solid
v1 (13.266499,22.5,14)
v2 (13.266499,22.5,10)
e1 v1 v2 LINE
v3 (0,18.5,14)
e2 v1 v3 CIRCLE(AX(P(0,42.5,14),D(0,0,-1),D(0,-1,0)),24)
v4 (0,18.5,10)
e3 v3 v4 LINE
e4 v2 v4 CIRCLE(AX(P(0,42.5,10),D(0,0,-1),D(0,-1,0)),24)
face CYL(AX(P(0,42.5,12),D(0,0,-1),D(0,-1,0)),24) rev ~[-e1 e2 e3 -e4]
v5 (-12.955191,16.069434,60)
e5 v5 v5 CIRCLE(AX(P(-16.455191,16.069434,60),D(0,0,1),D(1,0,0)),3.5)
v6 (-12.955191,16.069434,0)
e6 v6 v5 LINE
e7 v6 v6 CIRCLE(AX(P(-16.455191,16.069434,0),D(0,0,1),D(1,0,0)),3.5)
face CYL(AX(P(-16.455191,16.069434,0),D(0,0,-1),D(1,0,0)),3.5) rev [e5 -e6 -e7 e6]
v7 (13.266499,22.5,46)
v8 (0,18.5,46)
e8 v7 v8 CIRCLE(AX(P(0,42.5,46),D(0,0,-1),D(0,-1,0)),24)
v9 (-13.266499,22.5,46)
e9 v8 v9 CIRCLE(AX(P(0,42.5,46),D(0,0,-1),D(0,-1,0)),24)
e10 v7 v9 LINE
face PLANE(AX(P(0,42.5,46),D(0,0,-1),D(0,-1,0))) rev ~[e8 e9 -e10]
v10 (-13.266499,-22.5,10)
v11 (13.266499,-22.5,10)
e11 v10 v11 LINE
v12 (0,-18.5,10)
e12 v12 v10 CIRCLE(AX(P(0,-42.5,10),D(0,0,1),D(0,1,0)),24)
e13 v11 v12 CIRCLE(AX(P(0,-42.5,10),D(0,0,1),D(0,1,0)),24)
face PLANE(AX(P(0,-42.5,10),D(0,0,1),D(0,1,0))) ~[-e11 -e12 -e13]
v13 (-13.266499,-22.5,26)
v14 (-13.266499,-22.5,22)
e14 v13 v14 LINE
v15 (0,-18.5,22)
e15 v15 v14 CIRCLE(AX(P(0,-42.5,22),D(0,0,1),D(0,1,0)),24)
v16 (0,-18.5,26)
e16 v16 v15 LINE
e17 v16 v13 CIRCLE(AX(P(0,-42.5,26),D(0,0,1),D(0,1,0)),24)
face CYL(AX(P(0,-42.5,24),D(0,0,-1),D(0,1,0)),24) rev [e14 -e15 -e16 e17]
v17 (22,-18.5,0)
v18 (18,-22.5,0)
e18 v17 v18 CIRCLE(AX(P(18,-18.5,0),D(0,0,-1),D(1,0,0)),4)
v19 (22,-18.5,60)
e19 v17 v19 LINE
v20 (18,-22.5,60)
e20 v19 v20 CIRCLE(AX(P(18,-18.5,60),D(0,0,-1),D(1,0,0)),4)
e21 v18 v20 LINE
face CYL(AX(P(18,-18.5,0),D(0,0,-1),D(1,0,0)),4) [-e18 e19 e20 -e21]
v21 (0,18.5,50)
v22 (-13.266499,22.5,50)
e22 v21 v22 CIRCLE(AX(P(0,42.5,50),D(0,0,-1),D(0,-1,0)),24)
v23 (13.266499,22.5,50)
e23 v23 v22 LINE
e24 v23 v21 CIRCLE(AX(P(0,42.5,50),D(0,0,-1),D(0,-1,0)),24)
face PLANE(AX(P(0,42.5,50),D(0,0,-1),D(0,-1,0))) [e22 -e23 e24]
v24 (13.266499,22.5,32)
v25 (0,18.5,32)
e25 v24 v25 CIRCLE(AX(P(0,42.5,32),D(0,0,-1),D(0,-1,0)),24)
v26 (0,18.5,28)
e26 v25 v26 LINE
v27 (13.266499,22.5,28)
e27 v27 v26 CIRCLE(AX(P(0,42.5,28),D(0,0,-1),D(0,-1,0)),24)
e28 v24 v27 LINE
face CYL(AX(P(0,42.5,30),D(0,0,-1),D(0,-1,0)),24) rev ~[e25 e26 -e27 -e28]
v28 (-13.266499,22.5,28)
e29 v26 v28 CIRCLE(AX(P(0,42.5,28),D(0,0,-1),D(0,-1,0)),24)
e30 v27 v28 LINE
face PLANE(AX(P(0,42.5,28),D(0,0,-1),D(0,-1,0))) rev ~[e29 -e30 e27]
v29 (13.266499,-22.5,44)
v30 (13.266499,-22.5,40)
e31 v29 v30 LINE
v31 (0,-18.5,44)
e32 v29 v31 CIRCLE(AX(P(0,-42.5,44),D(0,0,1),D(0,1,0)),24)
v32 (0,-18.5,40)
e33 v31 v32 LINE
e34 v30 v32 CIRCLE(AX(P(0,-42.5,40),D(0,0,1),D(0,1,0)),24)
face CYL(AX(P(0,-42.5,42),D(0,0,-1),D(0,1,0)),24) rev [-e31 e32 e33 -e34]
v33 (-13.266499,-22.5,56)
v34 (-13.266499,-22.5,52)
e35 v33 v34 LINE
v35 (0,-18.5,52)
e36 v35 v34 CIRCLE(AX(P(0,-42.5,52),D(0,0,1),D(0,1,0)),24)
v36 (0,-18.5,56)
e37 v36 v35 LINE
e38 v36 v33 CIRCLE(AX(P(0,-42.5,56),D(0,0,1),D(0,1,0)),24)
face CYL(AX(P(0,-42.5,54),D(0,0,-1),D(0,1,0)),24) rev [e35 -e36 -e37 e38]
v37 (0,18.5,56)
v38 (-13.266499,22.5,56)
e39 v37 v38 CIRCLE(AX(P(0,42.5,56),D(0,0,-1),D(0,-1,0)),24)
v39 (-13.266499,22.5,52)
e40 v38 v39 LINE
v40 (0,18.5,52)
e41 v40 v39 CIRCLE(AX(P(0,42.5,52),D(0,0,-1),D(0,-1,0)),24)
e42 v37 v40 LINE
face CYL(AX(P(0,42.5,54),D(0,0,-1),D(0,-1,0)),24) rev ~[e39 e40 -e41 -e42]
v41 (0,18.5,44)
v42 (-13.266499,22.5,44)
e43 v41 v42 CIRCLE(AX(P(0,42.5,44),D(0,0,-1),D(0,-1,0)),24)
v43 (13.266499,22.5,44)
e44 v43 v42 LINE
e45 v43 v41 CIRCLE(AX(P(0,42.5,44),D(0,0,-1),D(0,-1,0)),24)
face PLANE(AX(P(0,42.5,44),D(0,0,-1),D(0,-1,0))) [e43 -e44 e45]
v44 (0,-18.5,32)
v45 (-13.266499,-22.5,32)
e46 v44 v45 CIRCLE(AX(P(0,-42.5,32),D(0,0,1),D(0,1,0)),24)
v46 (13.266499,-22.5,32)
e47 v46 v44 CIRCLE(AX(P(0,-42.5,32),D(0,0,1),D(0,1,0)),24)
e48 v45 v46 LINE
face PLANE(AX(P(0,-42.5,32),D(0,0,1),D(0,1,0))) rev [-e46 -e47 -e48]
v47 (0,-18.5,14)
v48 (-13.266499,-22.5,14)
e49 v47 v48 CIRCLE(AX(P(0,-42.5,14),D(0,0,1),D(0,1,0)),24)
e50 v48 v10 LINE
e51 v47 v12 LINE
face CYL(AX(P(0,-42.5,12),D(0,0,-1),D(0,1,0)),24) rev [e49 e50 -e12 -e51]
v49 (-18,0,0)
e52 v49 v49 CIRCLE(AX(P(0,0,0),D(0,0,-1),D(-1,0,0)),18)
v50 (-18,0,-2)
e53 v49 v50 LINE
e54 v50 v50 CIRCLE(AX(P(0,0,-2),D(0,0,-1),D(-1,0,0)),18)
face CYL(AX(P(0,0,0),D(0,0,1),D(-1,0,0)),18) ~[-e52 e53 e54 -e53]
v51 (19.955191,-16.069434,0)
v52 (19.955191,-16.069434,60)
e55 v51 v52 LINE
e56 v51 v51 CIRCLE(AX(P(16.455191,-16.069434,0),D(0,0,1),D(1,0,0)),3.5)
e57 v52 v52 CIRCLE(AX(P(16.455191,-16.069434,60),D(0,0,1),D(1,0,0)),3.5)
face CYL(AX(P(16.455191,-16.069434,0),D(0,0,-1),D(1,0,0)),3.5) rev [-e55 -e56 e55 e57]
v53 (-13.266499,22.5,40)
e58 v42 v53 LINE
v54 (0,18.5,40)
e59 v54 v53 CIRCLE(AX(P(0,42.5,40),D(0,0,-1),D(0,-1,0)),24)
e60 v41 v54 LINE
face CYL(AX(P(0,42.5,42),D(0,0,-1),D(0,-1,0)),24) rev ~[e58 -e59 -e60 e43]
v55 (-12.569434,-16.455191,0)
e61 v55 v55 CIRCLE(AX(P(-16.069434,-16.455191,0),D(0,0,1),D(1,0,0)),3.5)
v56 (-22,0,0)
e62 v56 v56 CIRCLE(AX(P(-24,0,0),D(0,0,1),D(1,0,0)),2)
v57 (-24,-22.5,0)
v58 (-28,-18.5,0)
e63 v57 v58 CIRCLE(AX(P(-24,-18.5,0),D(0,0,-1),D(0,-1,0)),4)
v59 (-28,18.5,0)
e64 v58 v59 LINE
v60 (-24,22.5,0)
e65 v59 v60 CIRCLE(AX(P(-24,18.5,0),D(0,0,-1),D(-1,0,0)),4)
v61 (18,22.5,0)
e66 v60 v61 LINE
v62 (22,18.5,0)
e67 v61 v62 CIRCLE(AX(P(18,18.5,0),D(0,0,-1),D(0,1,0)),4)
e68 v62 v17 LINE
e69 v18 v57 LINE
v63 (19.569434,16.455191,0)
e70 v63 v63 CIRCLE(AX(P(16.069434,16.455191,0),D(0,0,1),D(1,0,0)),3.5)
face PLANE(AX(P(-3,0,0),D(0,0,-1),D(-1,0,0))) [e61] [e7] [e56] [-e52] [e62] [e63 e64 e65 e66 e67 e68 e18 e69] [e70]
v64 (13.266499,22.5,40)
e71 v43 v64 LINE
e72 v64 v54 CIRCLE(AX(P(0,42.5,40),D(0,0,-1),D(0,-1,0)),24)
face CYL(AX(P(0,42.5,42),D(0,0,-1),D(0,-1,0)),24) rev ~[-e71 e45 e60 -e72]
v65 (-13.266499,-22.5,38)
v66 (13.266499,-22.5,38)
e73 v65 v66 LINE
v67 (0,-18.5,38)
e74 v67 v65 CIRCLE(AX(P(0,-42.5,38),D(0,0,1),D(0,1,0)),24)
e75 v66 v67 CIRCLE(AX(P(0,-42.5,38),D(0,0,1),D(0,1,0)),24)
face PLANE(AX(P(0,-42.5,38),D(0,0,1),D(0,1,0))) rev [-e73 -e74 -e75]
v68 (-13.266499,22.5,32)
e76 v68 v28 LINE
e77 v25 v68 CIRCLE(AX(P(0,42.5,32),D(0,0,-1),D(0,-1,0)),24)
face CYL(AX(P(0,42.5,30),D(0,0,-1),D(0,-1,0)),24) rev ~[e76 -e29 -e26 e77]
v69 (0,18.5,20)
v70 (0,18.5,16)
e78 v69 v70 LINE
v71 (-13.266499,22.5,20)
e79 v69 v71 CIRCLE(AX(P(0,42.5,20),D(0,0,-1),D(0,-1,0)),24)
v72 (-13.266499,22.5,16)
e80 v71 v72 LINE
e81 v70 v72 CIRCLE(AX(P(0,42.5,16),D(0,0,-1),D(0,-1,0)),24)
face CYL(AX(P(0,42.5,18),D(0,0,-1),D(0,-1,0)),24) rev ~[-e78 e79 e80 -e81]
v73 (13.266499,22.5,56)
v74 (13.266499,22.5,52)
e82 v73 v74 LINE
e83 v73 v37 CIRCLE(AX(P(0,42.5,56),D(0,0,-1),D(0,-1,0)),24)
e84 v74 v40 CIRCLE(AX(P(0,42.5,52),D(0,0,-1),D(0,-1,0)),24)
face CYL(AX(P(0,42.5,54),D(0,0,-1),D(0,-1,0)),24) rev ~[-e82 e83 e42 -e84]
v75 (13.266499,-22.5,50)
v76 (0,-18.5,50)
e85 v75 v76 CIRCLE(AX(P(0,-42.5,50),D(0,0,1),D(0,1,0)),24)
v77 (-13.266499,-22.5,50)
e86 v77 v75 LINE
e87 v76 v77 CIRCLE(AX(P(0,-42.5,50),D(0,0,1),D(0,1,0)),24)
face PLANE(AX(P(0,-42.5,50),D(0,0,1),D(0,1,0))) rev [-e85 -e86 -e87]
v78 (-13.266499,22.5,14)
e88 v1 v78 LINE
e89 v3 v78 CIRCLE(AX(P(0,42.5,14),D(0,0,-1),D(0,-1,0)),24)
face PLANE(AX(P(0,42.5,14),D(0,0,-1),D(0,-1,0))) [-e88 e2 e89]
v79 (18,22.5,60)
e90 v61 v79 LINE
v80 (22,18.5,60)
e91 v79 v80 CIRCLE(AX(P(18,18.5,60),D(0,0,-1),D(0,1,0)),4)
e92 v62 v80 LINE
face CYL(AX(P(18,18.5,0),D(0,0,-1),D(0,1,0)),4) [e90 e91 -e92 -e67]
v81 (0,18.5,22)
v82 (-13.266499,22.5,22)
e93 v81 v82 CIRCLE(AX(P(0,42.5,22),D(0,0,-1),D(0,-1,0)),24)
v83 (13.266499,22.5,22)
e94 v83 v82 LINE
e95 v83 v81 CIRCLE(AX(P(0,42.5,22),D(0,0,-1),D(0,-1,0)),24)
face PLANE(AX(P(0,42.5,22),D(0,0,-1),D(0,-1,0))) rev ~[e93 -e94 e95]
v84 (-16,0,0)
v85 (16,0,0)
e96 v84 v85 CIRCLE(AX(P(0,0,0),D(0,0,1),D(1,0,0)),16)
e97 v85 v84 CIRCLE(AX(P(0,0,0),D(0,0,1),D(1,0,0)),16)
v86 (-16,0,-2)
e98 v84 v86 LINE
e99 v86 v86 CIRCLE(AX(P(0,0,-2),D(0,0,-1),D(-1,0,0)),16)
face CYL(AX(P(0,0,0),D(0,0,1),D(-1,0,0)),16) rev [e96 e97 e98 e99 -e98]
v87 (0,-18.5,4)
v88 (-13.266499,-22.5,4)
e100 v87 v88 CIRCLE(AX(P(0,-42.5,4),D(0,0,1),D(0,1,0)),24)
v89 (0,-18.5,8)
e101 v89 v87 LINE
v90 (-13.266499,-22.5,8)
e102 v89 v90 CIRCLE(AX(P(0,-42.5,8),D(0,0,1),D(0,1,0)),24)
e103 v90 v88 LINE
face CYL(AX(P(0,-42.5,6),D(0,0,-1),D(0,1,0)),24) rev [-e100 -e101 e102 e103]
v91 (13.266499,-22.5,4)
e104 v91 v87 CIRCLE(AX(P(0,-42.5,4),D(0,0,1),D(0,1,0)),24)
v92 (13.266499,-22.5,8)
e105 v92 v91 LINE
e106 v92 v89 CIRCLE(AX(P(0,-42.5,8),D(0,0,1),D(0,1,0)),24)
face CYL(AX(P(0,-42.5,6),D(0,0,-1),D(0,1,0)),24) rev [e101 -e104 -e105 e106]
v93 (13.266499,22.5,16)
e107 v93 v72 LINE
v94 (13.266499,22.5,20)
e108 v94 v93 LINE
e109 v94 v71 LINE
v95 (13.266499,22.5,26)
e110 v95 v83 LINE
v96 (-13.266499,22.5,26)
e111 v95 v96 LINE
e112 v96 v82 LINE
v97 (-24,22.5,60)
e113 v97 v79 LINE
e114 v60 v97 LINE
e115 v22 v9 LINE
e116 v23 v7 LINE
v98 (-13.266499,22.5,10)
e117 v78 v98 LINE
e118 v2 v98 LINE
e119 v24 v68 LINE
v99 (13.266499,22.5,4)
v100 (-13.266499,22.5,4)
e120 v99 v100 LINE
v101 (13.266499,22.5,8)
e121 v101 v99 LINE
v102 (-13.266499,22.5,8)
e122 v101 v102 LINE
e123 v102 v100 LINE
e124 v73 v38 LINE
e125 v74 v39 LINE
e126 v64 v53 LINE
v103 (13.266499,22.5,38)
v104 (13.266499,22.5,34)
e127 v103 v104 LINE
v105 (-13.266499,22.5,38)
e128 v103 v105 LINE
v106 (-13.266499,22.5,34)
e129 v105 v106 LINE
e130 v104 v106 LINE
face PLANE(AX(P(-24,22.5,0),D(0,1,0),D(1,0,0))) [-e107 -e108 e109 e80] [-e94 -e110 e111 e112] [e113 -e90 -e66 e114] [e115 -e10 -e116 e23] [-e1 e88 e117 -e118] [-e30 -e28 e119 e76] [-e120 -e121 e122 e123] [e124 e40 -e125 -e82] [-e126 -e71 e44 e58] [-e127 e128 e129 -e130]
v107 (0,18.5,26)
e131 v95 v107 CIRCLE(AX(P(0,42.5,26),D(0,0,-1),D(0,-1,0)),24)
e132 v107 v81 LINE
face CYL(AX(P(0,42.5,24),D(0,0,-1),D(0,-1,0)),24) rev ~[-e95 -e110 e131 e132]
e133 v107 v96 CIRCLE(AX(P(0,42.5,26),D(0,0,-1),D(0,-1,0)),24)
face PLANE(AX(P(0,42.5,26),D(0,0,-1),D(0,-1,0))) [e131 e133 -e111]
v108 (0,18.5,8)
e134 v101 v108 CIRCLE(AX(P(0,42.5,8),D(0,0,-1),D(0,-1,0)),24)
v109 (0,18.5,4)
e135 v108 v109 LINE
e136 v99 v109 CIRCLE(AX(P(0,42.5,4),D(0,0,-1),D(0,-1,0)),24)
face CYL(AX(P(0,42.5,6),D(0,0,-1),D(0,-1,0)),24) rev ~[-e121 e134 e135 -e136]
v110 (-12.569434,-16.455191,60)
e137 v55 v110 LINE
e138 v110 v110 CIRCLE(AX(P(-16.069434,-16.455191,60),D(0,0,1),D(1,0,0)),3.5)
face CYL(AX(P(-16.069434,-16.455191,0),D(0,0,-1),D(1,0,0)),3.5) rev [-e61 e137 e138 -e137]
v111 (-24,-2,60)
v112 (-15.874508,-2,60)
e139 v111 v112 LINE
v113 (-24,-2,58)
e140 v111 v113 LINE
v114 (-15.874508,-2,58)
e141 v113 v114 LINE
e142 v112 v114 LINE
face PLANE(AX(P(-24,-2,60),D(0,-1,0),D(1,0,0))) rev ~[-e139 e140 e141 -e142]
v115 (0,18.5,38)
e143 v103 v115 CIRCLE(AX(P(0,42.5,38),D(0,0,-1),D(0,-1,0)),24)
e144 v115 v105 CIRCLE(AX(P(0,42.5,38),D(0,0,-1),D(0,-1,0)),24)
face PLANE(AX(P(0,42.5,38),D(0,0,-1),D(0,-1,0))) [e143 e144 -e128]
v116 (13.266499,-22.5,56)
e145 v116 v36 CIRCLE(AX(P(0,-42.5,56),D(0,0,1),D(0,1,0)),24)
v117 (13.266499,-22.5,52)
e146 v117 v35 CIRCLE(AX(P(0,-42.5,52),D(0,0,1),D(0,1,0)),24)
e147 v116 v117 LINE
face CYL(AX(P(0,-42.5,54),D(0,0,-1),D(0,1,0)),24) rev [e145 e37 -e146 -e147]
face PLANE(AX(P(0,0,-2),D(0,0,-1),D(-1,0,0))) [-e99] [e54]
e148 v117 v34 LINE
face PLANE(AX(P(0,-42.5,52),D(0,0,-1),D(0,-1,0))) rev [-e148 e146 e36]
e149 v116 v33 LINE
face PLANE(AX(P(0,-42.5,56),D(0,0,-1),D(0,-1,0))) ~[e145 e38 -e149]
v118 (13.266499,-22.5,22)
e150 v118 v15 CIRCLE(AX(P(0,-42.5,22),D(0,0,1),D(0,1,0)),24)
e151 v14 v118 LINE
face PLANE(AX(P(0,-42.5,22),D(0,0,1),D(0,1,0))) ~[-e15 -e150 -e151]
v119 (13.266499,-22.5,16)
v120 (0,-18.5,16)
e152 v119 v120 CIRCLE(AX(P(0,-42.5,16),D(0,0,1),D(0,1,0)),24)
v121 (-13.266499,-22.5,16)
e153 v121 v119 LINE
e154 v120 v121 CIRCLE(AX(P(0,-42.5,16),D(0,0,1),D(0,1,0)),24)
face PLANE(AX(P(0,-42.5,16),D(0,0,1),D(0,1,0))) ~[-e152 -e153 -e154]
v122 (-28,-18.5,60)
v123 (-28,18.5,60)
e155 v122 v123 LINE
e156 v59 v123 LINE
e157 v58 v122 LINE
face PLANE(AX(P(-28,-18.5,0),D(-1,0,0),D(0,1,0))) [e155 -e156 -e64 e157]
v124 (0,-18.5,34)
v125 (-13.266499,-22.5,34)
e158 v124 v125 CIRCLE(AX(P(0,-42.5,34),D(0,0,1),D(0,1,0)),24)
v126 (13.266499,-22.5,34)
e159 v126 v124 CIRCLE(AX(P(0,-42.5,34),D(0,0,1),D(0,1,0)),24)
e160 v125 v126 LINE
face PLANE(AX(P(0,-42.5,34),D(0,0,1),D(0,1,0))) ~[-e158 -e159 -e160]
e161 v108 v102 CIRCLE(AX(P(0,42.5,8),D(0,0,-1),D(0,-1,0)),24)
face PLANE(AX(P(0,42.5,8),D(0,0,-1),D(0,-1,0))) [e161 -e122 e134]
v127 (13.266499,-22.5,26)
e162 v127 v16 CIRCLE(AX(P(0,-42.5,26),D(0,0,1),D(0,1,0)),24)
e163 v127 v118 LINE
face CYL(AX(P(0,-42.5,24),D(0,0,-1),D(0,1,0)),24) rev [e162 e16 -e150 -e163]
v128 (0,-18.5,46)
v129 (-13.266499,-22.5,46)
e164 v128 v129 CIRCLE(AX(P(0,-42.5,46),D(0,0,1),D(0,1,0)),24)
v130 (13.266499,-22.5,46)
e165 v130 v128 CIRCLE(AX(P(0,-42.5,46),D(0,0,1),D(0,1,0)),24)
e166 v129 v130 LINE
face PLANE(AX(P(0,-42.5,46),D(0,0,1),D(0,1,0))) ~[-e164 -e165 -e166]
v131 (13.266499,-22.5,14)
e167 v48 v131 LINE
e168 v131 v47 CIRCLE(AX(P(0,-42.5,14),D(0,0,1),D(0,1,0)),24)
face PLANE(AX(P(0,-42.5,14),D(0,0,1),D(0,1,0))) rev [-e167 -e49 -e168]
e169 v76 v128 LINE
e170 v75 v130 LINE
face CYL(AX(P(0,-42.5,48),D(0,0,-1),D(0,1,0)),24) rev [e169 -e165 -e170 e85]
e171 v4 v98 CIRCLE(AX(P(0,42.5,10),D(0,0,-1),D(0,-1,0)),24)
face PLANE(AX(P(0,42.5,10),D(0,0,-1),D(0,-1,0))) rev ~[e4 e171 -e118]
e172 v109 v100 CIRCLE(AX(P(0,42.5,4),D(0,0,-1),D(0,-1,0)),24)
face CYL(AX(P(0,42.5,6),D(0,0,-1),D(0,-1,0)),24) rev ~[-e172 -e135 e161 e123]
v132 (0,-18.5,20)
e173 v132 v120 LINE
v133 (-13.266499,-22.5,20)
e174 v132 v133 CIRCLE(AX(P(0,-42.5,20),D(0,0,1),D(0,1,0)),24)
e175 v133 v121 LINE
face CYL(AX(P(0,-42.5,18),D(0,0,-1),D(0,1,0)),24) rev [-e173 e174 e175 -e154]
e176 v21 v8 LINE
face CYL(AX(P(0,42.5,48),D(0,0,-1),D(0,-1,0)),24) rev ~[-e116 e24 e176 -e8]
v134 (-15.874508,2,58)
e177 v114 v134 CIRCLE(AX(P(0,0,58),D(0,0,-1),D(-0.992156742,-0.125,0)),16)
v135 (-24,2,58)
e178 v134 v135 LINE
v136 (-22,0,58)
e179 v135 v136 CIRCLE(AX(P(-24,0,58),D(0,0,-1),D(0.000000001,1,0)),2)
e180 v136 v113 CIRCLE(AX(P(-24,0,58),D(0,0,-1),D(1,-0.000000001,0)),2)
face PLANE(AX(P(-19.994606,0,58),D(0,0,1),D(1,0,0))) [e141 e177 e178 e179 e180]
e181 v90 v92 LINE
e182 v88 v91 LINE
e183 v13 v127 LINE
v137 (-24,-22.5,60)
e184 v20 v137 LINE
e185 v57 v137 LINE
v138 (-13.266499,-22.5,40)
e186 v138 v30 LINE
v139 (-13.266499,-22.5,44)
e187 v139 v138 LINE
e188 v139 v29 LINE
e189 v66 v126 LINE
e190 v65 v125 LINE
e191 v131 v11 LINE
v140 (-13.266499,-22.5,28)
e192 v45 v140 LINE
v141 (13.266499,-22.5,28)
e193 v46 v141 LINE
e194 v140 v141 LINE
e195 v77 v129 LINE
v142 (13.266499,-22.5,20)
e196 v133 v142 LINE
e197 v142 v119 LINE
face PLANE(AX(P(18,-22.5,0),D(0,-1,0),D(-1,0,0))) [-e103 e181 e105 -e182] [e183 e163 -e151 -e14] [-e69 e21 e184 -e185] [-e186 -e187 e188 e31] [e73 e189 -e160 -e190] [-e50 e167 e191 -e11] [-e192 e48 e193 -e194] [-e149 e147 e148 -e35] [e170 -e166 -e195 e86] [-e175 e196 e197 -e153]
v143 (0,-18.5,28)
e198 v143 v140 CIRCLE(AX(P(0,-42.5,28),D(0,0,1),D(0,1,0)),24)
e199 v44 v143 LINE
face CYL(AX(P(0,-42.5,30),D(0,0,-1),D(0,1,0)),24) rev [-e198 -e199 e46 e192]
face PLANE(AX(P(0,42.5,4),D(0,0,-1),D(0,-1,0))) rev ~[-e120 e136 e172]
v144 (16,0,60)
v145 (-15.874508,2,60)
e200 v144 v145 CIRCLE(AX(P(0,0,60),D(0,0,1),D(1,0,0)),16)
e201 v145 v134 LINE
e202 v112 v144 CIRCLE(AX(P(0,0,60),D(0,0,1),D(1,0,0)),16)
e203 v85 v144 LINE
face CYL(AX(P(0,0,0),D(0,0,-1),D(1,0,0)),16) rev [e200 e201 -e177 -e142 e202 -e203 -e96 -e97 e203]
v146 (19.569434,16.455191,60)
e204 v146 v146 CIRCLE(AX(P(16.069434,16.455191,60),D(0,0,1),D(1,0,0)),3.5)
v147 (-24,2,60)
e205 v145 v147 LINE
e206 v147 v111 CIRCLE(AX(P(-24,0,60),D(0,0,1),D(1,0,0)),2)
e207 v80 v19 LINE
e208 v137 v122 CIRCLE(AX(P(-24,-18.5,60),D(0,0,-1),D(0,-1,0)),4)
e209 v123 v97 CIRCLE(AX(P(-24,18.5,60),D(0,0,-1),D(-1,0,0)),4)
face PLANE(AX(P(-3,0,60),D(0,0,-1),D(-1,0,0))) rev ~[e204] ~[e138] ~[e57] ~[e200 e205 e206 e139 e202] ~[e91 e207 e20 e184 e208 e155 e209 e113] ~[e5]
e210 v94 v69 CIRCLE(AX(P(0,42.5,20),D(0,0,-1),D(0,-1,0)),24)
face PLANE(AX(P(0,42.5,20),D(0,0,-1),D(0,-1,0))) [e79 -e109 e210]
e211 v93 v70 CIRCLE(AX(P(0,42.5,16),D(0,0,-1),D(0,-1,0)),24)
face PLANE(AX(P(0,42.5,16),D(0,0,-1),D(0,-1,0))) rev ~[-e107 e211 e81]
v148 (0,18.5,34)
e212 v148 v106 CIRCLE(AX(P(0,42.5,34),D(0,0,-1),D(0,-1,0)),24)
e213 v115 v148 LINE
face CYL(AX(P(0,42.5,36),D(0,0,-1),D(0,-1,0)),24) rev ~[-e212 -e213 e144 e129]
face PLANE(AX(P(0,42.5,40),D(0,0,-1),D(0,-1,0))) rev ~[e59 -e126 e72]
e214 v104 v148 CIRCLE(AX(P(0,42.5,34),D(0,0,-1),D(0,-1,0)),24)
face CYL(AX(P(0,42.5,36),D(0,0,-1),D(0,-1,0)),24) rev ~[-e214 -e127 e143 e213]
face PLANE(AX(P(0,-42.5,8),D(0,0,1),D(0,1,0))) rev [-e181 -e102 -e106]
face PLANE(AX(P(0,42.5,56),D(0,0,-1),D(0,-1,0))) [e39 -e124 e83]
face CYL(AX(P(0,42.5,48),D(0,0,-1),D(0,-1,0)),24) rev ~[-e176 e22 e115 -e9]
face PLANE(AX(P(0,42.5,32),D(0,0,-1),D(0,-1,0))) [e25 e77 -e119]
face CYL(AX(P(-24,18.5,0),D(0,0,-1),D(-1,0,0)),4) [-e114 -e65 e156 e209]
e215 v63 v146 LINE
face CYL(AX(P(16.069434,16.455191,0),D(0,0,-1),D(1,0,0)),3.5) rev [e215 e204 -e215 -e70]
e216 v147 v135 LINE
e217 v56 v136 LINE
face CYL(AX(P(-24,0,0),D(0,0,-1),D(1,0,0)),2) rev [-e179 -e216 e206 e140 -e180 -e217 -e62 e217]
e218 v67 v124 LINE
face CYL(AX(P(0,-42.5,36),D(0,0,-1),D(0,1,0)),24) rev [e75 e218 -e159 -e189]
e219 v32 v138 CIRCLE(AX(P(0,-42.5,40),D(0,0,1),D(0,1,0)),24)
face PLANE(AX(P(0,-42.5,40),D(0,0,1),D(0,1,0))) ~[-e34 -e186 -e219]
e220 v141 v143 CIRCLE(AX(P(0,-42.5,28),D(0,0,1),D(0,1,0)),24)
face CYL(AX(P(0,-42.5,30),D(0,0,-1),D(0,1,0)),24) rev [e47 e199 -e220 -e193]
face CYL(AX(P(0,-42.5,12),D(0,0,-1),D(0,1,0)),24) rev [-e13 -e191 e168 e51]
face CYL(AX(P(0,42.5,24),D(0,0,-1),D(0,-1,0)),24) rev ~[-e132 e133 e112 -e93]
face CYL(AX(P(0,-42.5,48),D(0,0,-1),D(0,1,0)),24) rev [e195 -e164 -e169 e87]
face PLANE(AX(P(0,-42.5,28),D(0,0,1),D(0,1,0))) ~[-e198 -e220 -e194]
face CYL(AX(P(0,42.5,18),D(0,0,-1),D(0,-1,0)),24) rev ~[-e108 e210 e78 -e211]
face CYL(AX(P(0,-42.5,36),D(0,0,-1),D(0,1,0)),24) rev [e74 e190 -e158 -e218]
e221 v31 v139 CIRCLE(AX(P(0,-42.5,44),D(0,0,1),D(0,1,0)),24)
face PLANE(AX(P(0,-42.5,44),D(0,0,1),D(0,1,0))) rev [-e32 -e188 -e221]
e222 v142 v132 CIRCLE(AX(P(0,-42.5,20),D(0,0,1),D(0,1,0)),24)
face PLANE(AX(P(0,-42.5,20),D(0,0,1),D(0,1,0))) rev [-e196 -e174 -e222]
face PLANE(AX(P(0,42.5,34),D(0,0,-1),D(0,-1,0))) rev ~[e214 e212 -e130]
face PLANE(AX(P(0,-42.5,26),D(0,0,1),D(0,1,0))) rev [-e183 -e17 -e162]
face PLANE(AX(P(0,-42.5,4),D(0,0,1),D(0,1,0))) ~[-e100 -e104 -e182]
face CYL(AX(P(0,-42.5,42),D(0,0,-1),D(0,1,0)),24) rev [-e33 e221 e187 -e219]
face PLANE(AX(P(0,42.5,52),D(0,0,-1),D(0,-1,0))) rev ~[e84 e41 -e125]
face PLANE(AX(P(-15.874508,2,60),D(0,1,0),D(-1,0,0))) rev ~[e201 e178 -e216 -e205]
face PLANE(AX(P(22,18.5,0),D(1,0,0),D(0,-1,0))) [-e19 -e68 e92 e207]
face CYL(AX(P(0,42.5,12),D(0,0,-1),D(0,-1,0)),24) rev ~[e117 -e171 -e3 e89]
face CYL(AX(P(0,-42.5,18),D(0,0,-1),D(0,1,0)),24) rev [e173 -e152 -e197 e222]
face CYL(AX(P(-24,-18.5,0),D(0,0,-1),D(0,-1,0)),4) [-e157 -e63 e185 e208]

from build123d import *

# Parameters (mm, degrees)
SKETCH1_R               = 16
SKETCH1_R_2             = 3.5
SKETCH1_R_3             = 2
BOSS_EXTRUDE1_DEPTH     = 60
SKETCH2_R               = 18
SKETCH2_R_2             = 16
BOSS_EXTRUDE2_DEPTH     = 2
CUT_EXTRUDE1_DEPTH      = 2
SKETCH6_W               = 4
SKETCH6_H               = 24
LPATTERN1_COUNT         = 9
LPATTERN1_PITCH         = 6
MIRROR1_COPY_1_SKETCH_W = 4
MIRROR1_COPY_1_SKETCH_H = 24
MIRROR1_COPY_2_SKETCH_W = 4
MIRROR1_COPY_2_SKETCH_H = 24
MIRROR1_COPY_3_SKETCH_W = 4
MIRROR1_COPY_3_SKETCH_H = 24
MIRROR1_COPY_4_SKETCH_W = 4
MIRROR1_COPY_4_SKETCH_H = 24
MIRROR1_COPY_5_SKETCH_W = 4
MIRROR1_COPY_5_SKETCH_H = 24
MIRROR1_COPY_6_SKETCH_W = 4
MIRROR1_COPY_6_SKETCH_H = 24
MIRROR1_COPY_7_SKETCH_W = 4
MIRROR1_COPY_7_SKETCH_H = 24
MIRROR1_COPY_8_SKETCH_W = 4
MIRROR1_COPY_8_SKETCH_H = 24


with BuildPart() as part:
    # Sketch1 → Boss-Extrude1 (new body)
    with BuildSketch(Plane.XY):
        with BuildLine():
            Line((-24, 22.5), (18, 22.5))
            ThreePointArc((18, 22.5), (20.828427125, 21.328427125), (22, 18.5))
            Line((22, 18.5), (22, -18.5))
            ThreePointArc((22, -18.5), (20.828427125, -21.328427125), (18, -22.5))
            Line((18, -22.5), (-24, -22.5))
            ThreePointArc((-24, -22.5), (-26.828427125, -21.328427125), (-28, -18.5))
            Line((-28, -18.5), (-28, 18.5))
            ThreePointArc((-28, 18.5), (-26.828427125, 21.328427125), (-24, 22.5))
        make_face()
        Circle(SKETCH1_R, mode=Mode.SUBTRACT)
        with Locations((16.069433567, 16.455190818)):
            Circle(SKETCH1_R_2, mode=Mode.SUBTRACT)
        with Locations((16.455190818, -16.069433567)):
            Circle(SKETCH1_R_2, mode=Mode.SUBTRACT)
        with Locations((-16.069433567, -16.455190818)):
            Circle(SKETCH1_R_2, mode=Mode.SUBTRACT)
        with Locations((-16.455190818, 16.069433567)):
            Circle(SKETCH1_R_2, mode=Mode.SUBTRACT)
        with Locations((-24, 0)):
            Circle(SKETCH1_R_3, mode=Mode.SUBTRACT)
    extrude(amount=BOSS_EXTRUDE1_DEPTH)

    # Sketch2 → Boss-Extrude2 (add)
    with BuildSketch(Plane(origin=(0, 0, 0), x_dir=(-1, 0, 0), z_dir=(0, 0, -1))):
        Circle(SKETCH2_R)
        Circle(SKETCH2_R_2, mode=Mode.SUBTRACT)
    extrude(amount=BOSS_EXTRUDE2_DEPTH)

    # Sketch3 → Cut-Extrude1 (cut)
    with BuildSketch(Plane.XY.offset(60)):
        with BuildLine():
            Line((-24, -2), (-15.874507866, -2))
            ThreePointArc((-15.874507866, -2), (-16, 0), (-15.874507866, 2))
            Line((-15.874507866, 2), (-24, 2))
            ThreePointArc((-24, 2), (-22.585786438, 1.414213562), (-22, 0))
            ThreePointArc((-22, 0), (-22.585786438, -1.414213562), (-24, -2))
        make_face()
    extrude(amount=-CUT_EXTRUDE1_DEPTH, mode=Mode.SUBTRACT)

    # Sketch6 → Cut-Revolve1 (revolve, cut)
    with BuildSketch(Plane(origin=(0, 0, 0), x_dir=(0, 0, -1), z_dir=(1, 0, 0))):
        with Locations((-54, 30.5)):
            Rectangle(SKETCH6_W, SKETCH6_H)
    cut_revolve1 = revolve(axis=Axis((0, 42.5, 56), (0, 0, -1)), mode=Mode.SUBTRACT)

    # LPattern1: Cut-Revolve1 ×9
    with Locations(*[(0, 0, -i * LPATTERN1_PITCH) for i in range(1, LPATTERN1_COUNT)]):
        add(cut_revolve1, mode=Mode.SUBTRACT)

    # Mirror1: Cut-Revolve1 across plane
    add(cut_revolve1.mirror(Plane.ZX), mode=Mode.SUBTRACT)

    # Mirror1 copy 1 sketch → Mirror1 copy 1 (revolve, cut)
    with BuildSketch(Plane(origin=(0, 0, -6), x_dir=(0, 0, -1), z_dir=(1, 0, 0))):
        with Locations((-54, -30.5)):
            Rectangle(MIRROR1_COPY_1_SKETCH_W, MIRROR1_COPY_1_SKETCH_H)
    revolve(axis=Axis((0, -42.5, 50), (0, 0, 1)), mode=Mode.SUBTRACT)

    # Mirror1 copy 2 sketch → Mirror1 copy 2 (revolve, cut)
    with BuildSketch(Plane(origin=(0, 0, -12), x_dir=(0, 0, -1), z_dir=(1, 0, 0))):
        with Locations((-54, -30.5)):
            Rectangle(MIRROR1_COPY_2_SKETCH_W, MIRROR1_COPY_2_SKETCH_H)
    revolve(axis=Axis((0, -42.5, 44), (0, 0, 1)), mode=Mode.SUBTRACT)

    # Mirror1 copy 3 sketch → Mirror1 copy 3 (revolve, cut)
    with BuildSketch(Plane(origin=(0, 0, -18), x_dir=(0, 0, -1), z_dir=(1, 0, 0))):
        with Locations((-54, -30.5)):
            Rectangle(MIRROR1_COPY_3_SKETCH_W, MIRROR1_COPY_3_SKETCH_H)
    revolve(axis=Axis((0, -42.5, 38), (0, 0, 1)), mode=Mode.SUBTRACT)

    # Mirror1 copy 4 sketch → Mirror1 copy 4 (revolve, cut)
    with BuildSketch(Plane(origin=(0, 0, -24), x_dir=(0, 0, -1), z_dir=(1, 0, 0))):
        with Locations((-54, -30.5)):
            Rectangle(MIRROR1_COPY_4_SKETCH_W, MIRROR1_COPY_4_SKETCH_H)
    revolve(axis=Axis((0, -42.5, 32), (0, 0, 1)), mode=Mode.SUBTRACT)

    # Mirror1 copy 5 sketch → Mirror1 copy 5 (revolve, cut)
    with BuildSketch(Plane(origin=(0, 0, -30), x_dir=(0, 0, -1), z_dir=(1, 0, 0))):
        with Locations((-54, -30.5)):
            Rectangle(MIRROR1_COPY_5_SKETCH_W, MIRROR1_COPY_5_SKETCH_H)
    revolve(axis=Axis((0, -42.5, 26), (0, 0, 1)), mode=Mode.SUBTRACT)

    # Mirror1 copy 6 sketch → Mirror1 copy 6 (revolve, cut)
    with BuildSketch(Plane(origin=(0, 0, -36), x_dir=(0, 0, -1), z_dir=(1, 0, 0))):
        with Locations((-54, -30.5)):
            Rectangle(MIRROR1_COPY_6_SKETCH_W, MIRROR1_COPY_6_SKETCH_H)
    revolve(axis=Axis((0, -42.5, 20), (0, 0, 1)), mode=Mode.SUBTRACT)

    # Mirror1 copy 7 sketch → Mirror1 copy 7 (revolve, cut)
    with BuildSketch(Plane(origin=(0, 0, -42), x_dir=(0, 0, -1), z_dir=(1, 0, 0))):
        with Locations((-54, -30.5)):
            Rectangle(MIRROR1_COPY_7_SKETCH_W, MIRROR1_COPY_7_SKETCH_H)
    revolve(axis=Axis((0, -42.5, 14), (0, 0, 1)), mode=Mode.SUBTRACT)

    # Mirror1 copy 8 sketch → Mirror1 copy 8 (revolve, cut)
    with BuildSketch(Plane(origin=(0, 0, -48), x_dir=(0, 0, -1), z_dir=(1, 0, 0))):
        with Locations((-54, -30.5)):
            Rectangle(MIRROR1_COPY_8_SKETCH_W, MIRROR1_COPY_8_SKETCH_H)
    revolve(axis=Axis((0, -42.5, 8), (0, 0, 1)), mode=Mode.SUBTRACT)


solid = part.part
